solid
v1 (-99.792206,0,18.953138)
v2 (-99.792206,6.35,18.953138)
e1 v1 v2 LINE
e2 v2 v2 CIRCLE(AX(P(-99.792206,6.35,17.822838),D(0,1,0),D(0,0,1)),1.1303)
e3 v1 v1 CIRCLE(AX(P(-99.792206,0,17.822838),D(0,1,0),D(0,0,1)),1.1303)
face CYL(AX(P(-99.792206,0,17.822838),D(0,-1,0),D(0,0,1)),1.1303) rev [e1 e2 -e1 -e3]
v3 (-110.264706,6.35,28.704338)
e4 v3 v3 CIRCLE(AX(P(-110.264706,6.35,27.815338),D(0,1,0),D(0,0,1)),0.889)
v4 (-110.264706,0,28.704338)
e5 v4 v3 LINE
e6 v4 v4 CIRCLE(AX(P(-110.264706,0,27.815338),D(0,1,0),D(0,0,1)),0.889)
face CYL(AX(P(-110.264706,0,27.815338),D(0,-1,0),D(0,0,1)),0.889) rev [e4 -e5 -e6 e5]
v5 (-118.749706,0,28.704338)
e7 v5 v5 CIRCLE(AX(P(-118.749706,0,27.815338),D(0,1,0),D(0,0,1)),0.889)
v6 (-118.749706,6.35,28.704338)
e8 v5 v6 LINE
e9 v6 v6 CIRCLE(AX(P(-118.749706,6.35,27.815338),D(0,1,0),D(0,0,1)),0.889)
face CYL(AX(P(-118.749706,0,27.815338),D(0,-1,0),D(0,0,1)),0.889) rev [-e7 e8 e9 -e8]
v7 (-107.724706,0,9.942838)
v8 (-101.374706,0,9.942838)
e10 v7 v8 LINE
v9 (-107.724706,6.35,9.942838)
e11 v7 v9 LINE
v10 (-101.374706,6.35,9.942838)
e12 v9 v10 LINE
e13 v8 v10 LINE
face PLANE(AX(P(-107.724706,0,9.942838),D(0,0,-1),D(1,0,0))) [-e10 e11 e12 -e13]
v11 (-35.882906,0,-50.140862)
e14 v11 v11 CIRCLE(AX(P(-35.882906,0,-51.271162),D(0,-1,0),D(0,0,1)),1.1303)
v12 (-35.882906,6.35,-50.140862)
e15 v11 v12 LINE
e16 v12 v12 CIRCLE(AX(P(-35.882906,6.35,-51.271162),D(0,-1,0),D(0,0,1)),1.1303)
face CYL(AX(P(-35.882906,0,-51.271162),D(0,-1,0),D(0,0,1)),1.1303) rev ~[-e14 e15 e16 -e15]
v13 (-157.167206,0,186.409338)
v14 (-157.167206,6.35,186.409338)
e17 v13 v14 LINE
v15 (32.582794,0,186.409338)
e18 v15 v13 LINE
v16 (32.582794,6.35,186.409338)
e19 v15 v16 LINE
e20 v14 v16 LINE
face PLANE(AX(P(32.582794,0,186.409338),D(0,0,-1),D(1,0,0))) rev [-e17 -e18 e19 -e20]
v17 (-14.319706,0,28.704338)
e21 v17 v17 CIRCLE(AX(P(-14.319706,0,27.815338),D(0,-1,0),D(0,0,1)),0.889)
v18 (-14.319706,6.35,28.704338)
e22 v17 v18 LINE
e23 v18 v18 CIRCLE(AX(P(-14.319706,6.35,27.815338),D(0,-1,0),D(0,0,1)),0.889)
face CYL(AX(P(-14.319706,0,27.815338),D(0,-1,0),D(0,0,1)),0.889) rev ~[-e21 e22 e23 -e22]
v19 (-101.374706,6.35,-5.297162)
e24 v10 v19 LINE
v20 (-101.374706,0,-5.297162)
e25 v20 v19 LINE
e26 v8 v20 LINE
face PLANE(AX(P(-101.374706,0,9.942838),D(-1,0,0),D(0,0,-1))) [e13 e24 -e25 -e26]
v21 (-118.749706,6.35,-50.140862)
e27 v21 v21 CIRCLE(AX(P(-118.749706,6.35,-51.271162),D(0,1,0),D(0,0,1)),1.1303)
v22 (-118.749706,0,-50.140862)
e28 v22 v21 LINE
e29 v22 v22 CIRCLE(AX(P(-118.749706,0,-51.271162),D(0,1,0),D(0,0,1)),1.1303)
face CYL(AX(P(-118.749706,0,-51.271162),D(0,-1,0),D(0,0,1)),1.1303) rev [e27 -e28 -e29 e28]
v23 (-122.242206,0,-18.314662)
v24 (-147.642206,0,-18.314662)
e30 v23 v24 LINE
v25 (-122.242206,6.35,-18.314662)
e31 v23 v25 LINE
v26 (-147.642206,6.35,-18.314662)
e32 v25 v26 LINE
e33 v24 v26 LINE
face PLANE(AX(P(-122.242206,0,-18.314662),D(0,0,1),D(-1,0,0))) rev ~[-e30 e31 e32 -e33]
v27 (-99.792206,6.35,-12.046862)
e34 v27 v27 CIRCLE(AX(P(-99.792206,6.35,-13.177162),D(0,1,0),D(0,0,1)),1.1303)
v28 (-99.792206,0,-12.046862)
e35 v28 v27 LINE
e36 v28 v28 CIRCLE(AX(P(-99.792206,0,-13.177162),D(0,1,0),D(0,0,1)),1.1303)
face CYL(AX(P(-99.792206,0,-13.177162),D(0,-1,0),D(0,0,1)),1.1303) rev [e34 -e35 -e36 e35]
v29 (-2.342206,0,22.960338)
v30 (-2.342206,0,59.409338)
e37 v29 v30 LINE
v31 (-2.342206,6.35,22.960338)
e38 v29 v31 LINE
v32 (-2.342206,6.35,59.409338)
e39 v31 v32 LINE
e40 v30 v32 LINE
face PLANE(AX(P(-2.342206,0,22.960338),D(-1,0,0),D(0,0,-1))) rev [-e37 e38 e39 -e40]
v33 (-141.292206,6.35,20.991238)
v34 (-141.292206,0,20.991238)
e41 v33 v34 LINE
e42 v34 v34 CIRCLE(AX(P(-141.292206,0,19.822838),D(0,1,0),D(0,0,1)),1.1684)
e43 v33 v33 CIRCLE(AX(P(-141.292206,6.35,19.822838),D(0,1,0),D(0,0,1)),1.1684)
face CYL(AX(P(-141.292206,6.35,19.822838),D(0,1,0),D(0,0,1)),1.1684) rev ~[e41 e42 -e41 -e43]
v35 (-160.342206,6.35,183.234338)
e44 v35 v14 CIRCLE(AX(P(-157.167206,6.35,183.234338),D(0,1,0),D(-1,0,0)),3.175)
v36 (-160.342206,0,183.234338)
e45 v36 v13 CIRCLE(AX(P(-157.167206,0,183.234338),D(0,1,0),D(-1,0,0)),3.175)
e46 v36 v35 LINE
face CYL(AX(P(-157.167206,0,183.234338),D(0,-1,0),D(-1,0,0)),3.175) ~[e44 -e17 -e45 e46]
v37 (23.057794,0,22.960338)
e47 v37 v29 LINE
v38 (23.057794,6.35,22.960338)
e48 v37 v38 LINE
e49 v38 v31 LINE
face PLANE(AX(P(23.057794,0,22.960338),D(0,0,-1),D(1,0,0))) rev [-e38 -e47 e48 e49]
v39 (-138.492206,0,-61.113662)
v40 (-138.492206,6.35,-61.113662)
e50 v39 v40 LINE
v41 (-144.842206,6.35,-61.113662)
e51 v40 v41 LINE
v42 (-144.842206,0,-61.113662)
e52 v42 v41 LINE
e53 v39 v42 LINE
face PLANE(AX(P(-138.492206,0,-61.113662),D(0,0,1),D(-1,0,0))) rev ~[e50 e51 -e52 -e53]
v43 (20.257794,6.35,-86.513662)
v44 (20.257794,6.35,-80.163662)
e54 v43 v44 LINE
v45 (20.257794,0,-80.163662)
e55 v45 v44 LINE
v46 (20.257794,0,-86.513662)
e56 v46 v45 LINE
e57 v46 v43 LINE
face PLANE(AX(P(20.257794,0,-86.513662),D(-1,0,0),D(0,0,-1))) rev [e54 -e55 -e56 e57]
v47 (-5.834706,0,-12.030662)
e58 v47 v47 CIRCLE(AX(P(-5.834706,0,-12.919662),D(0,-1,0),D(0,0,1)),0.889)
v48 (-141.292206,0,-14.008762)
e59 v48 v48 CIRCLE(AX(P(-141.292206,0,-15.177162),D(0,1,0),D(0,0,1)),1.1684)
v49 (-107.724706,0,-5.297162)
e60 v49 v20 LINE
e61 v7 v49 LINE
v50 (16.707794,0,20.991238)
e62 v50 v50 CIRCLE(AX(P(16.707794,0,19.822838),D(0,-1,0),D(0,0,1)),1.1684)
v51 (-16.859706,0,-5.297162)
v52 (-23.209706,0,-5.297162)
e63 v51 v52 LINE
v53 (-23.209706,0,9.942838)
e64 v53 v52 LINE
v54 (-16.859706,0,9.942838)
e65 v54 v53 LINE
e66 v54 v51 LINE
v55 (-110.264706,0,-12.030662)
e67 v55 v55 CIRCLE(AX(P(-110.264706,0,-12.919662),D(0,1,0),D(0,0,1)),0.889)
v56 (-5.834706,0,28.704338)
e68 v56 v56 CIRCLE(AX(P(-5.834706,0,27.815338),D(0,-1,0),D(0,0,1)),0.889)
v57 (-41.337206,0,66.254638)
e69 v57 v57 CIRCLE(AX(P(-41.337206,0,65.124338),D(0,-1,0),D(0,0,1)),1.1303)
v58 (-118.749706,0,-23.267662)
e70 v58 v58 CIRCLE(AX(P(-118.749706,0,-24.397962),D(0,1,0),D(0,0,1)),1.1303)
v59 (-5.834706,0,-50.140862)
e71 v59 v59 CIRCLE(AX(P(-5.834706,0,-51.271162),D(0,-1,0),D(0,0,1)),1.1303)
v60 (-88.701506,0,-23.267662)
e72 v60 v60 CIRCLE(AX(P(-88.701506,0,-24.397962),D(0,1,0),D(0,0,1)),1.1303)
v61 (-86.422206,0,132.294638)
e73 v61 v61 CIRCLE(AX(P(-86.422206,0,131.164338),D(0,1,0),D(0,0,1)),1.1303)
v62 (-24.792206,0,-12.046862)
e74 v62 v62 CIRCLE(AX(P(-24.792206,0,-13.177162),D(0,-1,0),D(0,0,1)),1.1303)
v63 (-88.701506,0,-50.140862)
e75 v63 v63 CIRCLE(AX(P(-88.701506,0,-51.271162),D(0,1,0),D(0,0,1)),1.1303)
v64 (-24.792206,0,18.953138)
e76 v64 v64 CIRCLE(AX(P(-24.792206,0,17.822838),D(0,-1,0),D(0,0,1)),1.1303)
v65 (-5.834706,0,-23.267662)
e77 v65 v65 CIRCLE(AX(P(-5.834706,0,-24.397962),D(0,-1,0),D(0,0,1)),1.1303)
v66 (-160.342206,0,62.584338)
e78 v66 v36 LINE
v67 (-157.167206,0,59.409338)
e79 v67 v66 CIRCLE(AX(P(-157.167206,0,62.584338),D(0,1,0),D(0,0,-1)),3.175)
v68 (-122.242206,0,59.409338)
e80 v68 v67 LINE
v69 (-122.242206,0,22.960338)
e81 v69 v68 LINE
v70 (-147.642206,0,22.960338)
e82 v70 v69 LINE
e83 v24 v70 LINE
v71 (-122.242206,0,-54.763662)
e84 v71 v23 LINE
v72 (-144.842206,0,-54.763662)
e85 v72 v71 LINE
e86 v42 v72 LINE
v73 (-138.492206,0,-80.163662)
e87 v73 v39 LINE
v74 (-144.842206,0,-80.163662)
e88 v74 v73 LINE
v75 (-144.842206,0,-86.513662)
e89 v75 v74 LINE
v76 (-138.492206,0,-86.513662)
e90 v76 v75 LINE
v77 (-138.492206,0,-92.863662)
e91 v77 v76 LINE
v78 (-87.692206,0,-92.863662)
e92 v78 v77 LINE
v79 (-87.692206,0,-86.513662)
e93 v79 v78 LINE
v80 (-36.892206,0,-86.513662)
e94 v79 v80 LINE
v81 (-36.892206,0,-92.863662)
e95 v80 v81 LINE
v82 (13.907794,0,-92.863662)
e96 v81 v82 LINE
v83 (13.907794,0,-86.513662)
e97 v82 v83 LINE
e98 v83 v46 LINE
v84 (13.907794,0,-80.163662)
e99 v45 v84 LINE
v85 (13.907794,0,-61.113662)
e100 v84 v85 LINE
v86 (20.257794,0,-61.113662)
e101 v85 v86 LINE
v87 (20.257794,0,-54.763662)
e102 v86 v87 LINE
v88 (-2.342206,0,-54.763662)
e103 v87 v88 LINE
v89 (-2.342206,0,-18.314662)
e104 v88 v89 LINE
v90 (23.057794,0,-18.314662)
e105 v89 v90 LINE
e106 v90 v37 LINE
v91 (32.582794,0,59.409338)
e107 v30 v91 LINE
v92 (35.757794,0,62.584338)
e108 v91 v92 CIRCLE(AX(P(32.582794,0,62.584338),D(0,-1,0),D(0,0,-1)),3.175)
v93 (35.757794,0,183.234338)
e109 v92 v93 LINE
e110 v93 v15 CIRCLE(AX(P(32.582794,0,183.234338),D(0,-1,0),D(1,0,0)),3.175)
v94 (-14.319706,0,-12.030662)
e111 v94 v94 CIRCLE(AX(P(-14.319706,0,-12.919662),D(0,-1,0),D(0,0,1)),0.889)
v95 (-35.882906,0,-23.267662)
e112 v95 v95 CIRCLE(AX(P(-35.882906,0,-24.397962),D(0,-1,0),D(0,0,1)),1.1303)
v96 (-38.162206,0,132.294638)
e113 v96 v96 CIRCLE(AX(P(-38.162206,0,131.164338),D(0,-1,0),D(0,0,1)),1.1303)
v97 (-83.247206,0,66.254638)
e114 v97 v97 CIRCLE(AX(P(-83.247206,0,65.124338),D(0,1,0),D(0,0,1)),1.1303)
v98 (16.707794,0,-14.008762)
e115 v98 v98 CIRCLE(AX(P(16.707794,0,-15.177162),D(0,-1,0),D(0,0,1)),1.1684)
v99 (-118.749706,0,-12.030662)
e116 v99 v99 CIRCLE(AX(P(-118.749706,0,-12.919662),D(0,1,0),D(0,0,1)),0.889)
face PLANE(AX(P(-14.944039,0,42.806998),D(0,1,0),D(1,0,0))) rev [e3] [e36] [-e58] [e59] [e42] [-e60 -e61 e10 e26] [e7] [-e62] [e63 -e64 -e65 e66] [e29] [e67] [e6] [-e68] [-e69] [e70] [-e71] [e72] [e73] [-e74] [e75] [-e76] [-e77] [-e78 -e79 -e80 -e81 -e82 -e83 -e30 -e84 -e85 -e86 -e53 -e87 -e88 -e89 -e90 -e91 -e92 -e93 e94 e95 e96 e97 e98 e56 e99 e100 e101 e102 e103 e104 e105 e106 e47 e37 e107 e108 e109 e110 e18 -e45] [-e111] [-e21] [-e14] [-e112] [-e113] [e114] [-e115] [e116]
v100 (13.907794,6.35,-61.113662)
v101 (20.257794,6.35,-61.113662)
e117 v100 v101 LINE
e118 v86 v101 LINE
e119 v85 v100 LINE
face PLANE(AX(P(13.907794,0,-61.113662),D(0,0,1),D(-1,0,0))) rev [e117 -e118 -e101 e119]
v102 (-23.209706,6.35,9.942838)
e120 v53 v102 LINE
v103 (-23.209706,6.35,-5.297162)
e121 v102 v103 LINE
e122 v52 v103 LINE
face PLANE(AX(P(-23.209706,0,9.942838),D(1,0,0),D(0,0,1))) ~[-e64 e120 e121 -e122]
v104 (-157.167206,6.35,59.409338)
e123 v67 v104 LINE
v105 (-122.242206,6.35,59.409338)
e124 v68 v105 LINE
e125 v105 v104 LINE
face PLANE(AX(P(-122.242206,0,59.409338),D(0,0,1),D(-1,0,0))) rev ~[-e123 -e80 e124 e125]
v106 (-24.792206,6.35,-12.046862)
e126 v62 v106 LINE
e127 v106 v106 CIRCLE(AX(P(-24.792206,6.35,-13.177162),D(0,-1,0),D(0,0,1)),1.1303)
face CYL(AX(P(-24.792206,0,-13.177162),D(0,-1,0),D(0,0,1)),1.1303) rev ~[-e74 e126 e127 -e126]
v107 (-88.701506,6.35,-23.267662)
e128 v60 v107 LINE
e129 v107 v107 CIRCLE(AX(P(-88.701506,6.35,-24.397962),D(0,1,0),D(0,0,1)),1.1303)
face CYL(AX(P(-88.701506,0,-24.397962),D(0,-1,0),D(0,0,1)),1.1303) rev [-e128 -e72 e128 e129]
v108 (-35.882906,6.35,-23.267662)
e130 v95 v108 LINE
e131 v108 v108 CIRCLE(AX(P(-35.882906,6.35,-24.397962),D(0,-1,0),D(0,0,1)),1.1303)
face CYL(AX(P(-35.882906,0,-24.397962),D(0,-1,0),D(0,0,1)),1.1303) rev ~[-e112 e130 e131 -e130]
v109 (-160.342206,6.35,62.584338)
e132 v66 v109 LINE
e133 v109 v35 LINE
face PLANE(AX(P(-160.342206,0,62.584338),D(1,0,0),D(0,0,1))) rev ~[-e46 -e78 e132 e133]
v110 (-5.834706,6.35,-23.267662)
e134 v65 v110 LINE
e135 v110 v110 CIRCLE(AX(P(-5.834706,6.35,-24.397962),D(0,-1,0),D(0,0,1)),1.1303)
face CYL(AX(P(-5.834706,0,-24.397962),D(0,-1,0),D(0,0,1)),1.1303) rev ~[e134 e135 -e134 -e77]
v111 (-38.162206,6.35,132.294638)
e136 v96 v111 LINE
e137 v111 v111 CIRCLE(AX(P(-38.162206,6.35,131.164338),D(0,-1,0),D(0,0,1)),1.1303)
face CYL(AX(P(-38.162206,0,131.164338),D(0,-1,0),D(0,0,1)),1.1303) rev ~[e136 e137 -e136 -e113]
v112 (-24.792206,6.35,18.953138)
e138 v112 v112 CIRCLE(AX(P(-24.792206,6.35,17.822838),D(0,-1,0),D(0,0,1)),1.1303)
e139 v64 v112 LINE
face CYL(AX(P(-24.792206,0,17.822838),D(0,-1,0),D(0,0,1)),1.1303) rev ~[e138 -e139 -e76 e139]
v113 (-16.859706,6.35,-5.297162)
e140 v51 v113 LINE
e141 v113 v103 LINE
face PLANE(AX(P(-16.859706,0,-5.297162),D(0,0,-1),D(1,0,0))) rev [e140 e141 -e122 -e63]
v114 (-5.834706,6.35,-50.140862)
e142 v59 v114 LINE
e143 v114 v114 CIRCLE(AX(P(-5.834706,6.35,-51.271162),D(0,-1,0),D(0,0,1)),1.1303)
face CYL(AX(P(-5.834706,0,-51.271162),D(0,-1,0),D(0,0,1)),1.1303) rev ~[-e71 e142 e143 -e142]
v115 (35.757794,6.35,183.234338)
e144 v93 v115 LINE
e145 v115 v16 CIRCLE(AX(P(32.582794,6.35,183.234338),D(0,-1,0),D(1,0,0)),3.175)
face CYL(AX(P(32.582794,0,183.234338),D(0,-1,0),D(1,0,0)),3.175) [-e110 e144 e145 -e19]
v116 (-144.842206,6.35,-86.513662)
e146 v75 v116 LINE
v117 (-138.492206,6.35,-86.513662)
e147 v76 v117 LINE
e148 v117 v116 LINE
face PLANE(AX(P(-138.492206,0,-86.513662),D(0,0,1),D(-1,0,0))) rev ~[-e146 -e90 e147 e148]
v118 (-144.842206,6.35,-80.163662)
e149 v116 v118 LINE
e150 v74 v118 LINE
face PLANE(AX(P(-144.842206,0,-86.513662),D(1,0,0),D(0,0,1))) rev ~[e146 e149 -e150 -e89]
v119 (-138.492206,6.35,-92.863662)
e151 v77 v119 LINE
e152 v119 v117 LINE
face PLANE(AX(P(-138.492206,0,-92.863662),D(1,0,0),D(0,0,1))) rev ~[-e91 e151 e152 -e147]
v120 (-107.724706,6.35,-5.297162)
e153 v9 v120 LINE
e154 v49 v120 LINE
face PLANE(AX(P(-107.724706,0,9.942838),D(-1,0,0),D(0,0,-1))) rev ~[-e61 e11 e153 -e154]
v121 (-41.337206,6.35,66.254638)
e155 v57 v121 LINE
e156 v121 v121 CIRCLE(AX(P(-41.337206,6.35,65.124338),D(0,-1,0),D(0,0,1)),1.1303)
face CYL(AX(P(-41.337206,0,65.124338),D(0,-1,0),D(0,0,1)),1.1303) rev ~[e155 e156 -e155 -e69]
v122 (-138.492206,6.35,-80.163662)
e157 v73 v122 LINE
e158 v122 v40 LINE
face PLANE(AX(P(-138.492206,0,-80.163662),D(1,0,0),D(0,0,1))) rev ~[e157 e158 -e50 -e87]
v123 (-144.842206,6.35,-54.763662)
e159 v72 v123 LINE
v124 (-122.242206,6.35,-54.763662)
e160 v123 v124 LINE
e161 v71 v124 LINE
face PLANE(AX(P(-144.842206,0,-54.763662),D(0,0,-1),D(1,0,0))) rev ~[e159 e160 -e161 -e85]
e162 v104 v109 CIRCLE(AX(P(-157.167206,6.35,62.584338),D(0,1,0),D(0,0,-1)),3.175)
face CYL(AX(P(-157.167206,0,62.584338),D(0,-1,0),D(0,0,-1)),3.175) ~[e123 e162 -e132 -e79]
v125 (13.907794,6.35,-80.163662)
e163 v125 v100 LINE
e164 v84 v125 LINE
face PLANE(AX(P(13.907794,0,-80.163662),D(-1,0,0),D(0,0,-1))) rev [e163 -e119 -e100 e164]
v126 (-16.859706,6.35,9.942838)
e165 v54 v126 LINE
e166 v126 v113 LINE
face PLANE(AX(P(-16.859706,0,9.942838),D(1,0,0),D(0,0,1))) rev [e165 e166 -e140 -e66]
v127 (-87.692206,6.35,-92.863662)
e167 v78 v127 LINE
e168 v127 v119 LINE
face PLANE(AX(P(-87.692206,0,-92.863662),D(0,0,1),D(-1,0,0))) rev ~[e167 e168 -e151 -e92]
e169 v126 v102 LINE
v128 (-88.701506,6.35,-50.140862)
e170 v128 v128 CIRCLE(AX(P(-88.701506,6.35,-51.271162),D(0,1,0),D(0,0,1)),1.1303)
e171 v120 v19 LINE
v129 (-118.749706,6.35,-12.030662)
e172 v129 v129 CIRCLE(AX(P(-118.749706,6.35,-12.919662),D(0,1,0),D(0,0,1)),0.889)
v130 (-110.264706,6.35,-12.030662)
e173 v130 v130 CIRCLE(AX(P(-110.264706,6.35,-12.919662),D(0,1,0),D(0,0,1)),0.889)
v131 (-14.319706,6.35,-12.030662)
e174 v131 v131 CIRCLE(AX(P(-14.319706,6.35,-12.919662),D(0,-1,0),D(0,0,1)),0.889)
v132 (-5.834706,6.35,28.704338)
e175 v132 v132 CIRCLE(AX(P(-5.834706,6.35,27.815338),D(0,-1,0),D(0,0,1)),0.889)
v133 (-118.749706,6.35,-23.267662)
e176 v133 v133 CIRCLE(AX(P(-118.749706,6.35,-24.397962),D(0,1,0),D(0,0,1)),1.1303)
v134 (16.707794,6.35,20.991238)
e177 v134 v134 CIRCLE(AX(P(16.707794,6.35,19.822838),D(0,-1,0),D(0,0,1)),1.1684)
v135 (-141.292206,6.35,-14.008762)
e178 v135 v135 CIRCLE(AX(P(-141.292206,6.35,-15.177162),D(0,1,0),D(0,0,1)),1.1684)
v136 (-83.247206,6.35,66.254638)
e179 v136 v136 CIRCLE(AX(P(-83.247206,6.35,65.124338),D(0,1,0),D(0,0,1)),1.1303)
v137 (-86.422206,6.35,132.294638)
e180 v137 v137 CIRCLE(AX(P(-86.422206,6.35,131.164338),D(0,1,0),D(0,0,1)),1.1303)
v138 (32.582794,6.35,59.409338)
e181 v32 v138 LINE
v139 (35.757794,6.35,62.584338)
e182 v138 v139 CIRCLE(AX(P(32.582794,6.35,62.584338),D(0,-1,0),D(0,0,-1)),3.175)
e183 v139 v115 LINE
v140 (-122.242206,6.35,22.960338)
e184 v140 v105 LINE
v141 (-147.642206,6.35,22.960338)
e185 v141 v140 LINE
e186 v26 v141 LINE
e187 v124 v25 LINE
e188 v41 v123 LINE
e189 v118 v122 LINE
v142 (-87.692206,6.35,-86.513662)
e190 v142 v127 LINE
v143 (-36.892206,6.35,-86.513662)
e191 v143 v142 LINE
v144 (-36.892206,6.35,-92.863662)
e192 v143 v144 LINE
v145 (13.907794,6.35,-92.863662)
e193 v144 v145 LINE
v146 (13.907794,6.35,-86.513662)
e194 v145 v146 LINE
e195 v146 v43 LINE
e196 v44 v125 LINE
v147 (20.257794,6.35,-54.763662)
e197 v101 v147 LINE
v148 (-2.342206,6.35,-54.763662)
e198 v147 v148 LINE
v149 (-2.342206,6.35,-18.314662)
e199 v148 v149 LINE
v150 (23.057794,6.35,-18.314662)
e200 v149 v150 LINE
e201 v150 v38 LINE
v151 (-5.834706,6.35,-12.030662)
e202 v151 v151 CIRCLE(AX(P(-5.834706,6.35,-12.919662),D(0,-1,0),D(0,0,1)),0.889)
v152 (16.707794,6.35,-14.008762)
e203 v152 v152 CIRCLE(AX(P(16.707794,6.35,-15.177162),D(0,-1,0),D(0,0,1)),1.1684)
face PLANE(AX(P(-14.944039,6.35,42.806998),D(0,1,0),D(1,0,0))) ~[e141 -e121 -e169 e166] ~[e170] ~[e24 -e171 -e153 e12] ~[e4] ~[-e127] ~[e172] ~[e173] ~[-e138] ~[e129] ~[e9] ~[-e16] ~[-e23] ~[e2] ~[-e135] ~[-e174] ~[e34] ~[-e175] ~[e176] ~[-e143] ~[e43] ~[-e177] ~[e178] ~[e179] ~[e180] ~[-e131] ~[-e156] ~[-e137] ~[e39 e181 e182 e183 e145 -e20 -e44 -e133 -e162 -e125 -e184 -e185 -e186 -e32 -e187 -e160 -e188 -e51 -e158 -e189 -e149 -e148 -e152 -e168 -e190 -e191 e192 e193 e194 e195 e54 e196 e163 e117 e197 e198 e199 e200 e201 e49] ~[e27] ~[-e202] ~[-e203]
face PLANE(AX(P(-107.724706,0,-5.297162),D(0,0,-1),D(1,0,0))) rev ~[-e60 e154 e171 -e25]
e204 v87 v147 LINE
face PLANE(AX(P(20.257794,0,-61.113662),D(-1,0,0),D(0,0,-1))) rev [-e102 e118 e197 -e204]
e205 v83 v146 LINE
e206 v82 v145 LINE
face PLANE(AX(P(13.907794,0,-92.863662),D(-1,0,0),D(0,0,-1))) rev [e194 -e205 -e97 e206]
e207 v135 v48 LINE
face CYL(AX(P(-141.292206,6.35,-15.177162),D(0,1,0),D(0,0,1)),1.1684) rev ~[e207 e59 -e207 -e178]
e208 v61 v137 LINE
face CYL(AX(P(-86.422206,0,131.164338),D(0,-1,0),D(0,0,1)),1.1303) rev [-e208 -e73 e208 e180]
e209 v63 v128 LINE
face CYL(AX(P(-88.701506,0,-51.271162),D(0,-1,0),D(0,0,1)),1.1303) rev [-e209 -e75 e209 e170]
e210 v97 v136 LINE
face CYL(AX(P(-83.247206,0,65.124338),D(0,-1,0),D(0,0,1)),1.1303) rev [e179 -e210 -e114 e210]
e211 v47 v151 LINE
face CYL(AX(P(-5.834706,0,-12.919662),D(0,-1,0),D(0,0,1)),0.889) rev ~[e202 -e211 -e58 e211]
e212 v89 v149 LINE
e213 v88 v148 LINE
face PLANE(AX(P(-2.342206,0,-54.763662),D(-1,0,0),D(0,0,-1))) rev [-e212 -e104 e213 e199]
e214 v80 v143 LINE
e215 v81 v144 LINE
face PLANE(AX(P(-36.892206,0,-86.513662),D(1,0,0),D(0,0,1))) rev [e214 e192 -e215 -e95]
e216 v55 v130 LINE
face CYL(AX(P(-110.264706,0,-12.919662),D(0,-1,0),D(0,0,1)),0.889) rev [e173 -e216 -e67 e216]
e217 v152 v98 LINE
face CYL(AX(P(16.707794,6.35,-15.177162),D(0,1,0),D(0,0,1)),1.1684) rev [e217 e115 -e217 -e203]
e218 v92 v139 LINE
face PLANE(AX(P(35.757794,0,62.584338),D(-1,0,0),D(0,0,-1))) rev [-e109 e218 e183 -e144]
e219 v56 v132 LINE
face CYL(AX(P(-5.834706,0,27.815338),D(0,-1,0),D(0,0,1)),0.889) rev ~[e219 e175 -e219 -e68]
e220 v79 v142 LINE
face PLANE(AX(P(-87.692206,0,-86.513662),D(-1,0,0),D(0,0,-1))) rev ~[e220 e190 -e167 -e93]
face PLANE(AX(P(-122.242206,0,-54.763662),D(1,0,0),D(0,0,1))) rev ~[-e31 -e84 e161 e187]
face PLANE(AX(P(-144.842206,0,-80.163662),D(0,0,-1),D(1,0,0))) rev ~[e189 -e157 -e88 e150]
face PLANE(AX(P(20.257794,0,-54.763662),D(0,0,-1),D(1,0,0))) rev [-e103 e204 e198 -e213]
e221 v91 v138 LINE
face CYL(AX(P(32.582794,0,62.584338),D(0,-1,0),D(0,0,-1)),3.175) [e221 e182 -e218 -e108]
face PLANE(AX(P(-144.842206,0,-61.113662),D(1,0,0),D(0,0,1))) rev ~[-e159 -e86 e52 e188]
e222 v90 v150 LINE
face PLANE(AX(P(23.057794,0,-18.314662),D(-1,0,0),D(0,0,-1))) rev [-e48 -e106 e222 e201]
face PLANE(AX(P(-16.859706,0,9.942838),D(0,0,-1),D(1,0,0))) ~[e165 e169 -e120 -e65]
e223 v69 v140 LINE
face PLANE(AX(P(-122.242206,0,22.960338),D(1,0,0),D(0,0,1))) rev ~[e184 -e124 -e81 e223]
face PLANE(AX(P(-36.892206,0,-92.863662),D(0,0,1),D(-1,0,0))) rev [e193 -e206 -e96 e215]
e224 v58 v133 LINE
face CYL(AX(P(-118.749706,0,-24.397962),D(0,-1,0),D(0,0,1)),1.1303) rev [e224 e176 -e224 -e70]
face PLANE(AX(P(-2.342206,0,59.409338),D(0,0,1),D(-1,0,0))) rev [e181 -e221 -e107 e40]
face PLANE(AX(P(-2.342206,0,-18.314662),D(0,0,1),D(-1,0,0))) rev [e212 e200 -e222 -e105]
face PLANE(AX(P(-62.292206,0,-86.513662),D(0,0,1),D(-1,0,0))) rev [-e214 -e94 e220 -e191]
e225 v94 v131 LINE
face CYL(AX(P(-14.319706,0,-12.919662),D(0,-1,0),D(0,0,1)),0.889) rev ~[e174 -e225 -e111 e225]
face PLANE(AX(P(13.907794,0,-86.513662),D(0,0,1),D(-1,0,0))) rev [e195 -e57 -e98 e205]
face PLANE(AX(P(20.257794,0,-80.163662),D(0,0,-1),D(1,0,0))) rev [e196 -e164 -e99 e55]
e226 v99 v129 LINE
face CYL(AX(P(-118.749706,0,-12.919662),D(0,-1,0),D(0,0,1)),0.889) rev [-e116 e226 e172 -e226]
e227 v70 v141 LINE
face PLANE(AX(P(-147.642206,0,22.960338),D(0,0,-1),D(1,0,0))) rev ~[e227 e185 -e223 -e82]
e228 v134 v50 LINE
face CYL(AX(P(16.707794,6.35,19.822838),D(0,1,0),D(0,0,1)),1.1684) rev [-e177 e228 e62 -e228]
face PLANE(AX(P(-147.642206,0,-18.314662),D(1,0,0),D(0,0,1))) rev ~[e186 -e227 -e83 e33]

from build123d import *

# Parameters (mm, degrees)
SKETCH1_R           = 0.889
SKETCH1_R_2         = 1.1303
SKETCH1_W           = 6.35
SKETCH1_H           = 15.24
BOSS_EXTRUDE1_DEPTH = 6.35
SKETCH2_R           = 1.1684
CUT_EXTRUDE1_DEPTH  = 6.35


with BuildPart() as part:
    # Sketch1 → Boss-Extrude1 (new body)
    with BuildSketch(Plane(origin=(0, 0, 0), x_dir=(1, 0, 0), z_dir=(0, 1, 0))):
        with BuildLine():
            Line((-147.642205972, 18.314662121), (-147.642205972, -22.960337879))
            Line((-147.642205972, -22.960337879), (-122.242205972, -22.960337879))
            Line((-122.242205972, -22.960337879), (-122.242205972, -59.409337879))
            Line((-122.242205972, -59.409337879), (-157.167205972, -59.409337879))
            ThreePointArc((-157.167205972, -59.409337879), (-159.412270002, -60.339273849), (-160.342205972, -62.584337879))
            Line((-160.342205972, -62.584337879), (-160.342205972, -183.234337879))
            ThreePointArc((-160.342205972, -183.234337879), (-159.412270002, -185.479401909), (-157.167205972, -186.409337879))
            Line((-157.167205972, -186.409337879), (-62.292205972, -186.409337879))
            Line((-62.292205972, -186.409337879), (-62.292205972, 86.513662121))
            Line((-62.292205972, 86.513662121), (-87.692205972, 86.513662121))
            Line((-87.692205972, 86.513662121), (-87.692205972, 92.863662121))
            Line((-87.692205972, 92.863662121), (-138.492205972, 92.863662121))
            Line((-138.492205972, 92.863662121), (-138.492205972, 86.513662121))
            Line((-138.492205972, 86.513662121), (-144.842205972, 86.513662121))
            Line((-144.842205972, 86.513662121), (-144.842205972, 80.163662121))
            Line((-144.842205972, 80.163662121), (-138.492205972, 80.163662121))
            Line((-138.492205972, 80.163662121), (-138.492205972, 61.113662121))
            Line((-138.492205972, 61.113662121), (-144.842205972, 61.113662121))
            Line((-144.842205972, 61.113662121), (-144.842205972, 54.763662121))
            Line((-144.842205972, 54.763662121), (-122.242205972, 54.763662121))
            Line((-122.242205972, 54.763662121), (-122.242205972, 18.314662121))
            Line((-122.242205972, 18.314662121), (-147.642205972, 18.314662121))
        make_face()
        with Locations(Location((-118.749705972, -27.815337973, 0), (0, 0, 270))):
            Circle(SKETCH1_R, mode=Mode.SUBTRACT)
        with Locations(Location((-118.749705972, 12.919662091, 0), (0, 0, 270))):
            Circle(SKETCH1_R, mode=Mode.SUBTRACT)
        with Locations(Location((-110.264705924, 12.919662091, 0), (0, 0, 270))):
            Circle(SKETCH1_R, mode=Mode.SUBTRACT)
        with Locations(Location((-110.264705924, -27.815337973, 0), (0, 0, 270))):
            Circle(SKETCH1_R, mode=Mode.SUBTRACT)
        with Locations(Location((-118.749705972, 51.271162121, 0), (0, 0, 270))):
            Circle(SKETCH1_R_2, mode=Mode.SUBTRACT)
        with Locations(Location((-118.749705972, 24.397962121, 0), (0, 0, 270))):
            Circle(SKETCH1_R_2, mode=Mode.SUBTRACT)
        with Locations(Location((-88.701505972, 51.271162121, 0), (0, 0, 270))):
            Circle(SKETCH1_R_2, mode=Mode.SUBTRACT)
        with Locations(Location((-88.701505972, 24.397962121, 0), (0, 0, 270))):
            Circle(SKETCH1_R_2, mode=Mode.SUBTRACT)
        with Locations(Location((-99.792205972, 13.177162121, 0), (0, 0, 270))):
            Circle(SKETCH1_R_2, mode=Mode.SUBTRACT)
        with Locations(Location((-99.792205972, -17.822837879, 0), (0, 0, 270))):
            Circle(SKETCH1_R_2, mode=Mode.SUBTRACT)
        with Locations(Location((-83.247205972, -65.124337879, 0), (0, 0, 270))):
            Circle(SKETCH1_R_2, mode=Mode.SUBTRACT)
        with Locations(Location((-86.422205972, -131.164337879, 0), (0, 0, 270))):
            Circle(SKETCH1_R_2, mode=Mode.SUBTRACT)
        with Locations((-104.549705924, -2.322837879)):
            Rectangle(SKETCH1_W, SKETCH1_H, mode=Mode.SUBTRACT)
    boss_extrude1 = extrude(amount=BOSS_EXTRUDE1_DEPTH)

    # Sketch2 → Cut-Extrude1 (cut)
    with BuildSketch(Plane(origin=(0, 6.35, 0), x_dir=(1, 0, 0), z_dir=(0, 1, 0))):
        with Locations(Location((-141.292205972, 15.177162121, 0), (0, 0, 270))):
            Circle(SKETCH2_R)
        with Locations(Location((-141.292205972, -19.822837879, 0), (0, 0, 270))):
            Circle(SKETCH2_R)
    cut_extrude1 = extrude(amount=-CUT_EXTRUDE1_DEPTH, mode=Mode.SUBTRACT)

    # Mirror1: Boss-Extrude1, Cut-Extrude1 across plane
    add(boss_extrude1.mirror(Plane(origin=(-62.292205972, 6.35, -86.513662121), x_dir=(0, 0, 1), z_dir=(-1, 0, 0))))
    add(cut_extrude1.mirror(Plane(origin=(-62.292205972, 6.35, -86.513662121), x_dir=(0, 0, 1), z_dir=(-1, 0, 0))), mode=Mode.SUBTRACT)


solid = part.part
